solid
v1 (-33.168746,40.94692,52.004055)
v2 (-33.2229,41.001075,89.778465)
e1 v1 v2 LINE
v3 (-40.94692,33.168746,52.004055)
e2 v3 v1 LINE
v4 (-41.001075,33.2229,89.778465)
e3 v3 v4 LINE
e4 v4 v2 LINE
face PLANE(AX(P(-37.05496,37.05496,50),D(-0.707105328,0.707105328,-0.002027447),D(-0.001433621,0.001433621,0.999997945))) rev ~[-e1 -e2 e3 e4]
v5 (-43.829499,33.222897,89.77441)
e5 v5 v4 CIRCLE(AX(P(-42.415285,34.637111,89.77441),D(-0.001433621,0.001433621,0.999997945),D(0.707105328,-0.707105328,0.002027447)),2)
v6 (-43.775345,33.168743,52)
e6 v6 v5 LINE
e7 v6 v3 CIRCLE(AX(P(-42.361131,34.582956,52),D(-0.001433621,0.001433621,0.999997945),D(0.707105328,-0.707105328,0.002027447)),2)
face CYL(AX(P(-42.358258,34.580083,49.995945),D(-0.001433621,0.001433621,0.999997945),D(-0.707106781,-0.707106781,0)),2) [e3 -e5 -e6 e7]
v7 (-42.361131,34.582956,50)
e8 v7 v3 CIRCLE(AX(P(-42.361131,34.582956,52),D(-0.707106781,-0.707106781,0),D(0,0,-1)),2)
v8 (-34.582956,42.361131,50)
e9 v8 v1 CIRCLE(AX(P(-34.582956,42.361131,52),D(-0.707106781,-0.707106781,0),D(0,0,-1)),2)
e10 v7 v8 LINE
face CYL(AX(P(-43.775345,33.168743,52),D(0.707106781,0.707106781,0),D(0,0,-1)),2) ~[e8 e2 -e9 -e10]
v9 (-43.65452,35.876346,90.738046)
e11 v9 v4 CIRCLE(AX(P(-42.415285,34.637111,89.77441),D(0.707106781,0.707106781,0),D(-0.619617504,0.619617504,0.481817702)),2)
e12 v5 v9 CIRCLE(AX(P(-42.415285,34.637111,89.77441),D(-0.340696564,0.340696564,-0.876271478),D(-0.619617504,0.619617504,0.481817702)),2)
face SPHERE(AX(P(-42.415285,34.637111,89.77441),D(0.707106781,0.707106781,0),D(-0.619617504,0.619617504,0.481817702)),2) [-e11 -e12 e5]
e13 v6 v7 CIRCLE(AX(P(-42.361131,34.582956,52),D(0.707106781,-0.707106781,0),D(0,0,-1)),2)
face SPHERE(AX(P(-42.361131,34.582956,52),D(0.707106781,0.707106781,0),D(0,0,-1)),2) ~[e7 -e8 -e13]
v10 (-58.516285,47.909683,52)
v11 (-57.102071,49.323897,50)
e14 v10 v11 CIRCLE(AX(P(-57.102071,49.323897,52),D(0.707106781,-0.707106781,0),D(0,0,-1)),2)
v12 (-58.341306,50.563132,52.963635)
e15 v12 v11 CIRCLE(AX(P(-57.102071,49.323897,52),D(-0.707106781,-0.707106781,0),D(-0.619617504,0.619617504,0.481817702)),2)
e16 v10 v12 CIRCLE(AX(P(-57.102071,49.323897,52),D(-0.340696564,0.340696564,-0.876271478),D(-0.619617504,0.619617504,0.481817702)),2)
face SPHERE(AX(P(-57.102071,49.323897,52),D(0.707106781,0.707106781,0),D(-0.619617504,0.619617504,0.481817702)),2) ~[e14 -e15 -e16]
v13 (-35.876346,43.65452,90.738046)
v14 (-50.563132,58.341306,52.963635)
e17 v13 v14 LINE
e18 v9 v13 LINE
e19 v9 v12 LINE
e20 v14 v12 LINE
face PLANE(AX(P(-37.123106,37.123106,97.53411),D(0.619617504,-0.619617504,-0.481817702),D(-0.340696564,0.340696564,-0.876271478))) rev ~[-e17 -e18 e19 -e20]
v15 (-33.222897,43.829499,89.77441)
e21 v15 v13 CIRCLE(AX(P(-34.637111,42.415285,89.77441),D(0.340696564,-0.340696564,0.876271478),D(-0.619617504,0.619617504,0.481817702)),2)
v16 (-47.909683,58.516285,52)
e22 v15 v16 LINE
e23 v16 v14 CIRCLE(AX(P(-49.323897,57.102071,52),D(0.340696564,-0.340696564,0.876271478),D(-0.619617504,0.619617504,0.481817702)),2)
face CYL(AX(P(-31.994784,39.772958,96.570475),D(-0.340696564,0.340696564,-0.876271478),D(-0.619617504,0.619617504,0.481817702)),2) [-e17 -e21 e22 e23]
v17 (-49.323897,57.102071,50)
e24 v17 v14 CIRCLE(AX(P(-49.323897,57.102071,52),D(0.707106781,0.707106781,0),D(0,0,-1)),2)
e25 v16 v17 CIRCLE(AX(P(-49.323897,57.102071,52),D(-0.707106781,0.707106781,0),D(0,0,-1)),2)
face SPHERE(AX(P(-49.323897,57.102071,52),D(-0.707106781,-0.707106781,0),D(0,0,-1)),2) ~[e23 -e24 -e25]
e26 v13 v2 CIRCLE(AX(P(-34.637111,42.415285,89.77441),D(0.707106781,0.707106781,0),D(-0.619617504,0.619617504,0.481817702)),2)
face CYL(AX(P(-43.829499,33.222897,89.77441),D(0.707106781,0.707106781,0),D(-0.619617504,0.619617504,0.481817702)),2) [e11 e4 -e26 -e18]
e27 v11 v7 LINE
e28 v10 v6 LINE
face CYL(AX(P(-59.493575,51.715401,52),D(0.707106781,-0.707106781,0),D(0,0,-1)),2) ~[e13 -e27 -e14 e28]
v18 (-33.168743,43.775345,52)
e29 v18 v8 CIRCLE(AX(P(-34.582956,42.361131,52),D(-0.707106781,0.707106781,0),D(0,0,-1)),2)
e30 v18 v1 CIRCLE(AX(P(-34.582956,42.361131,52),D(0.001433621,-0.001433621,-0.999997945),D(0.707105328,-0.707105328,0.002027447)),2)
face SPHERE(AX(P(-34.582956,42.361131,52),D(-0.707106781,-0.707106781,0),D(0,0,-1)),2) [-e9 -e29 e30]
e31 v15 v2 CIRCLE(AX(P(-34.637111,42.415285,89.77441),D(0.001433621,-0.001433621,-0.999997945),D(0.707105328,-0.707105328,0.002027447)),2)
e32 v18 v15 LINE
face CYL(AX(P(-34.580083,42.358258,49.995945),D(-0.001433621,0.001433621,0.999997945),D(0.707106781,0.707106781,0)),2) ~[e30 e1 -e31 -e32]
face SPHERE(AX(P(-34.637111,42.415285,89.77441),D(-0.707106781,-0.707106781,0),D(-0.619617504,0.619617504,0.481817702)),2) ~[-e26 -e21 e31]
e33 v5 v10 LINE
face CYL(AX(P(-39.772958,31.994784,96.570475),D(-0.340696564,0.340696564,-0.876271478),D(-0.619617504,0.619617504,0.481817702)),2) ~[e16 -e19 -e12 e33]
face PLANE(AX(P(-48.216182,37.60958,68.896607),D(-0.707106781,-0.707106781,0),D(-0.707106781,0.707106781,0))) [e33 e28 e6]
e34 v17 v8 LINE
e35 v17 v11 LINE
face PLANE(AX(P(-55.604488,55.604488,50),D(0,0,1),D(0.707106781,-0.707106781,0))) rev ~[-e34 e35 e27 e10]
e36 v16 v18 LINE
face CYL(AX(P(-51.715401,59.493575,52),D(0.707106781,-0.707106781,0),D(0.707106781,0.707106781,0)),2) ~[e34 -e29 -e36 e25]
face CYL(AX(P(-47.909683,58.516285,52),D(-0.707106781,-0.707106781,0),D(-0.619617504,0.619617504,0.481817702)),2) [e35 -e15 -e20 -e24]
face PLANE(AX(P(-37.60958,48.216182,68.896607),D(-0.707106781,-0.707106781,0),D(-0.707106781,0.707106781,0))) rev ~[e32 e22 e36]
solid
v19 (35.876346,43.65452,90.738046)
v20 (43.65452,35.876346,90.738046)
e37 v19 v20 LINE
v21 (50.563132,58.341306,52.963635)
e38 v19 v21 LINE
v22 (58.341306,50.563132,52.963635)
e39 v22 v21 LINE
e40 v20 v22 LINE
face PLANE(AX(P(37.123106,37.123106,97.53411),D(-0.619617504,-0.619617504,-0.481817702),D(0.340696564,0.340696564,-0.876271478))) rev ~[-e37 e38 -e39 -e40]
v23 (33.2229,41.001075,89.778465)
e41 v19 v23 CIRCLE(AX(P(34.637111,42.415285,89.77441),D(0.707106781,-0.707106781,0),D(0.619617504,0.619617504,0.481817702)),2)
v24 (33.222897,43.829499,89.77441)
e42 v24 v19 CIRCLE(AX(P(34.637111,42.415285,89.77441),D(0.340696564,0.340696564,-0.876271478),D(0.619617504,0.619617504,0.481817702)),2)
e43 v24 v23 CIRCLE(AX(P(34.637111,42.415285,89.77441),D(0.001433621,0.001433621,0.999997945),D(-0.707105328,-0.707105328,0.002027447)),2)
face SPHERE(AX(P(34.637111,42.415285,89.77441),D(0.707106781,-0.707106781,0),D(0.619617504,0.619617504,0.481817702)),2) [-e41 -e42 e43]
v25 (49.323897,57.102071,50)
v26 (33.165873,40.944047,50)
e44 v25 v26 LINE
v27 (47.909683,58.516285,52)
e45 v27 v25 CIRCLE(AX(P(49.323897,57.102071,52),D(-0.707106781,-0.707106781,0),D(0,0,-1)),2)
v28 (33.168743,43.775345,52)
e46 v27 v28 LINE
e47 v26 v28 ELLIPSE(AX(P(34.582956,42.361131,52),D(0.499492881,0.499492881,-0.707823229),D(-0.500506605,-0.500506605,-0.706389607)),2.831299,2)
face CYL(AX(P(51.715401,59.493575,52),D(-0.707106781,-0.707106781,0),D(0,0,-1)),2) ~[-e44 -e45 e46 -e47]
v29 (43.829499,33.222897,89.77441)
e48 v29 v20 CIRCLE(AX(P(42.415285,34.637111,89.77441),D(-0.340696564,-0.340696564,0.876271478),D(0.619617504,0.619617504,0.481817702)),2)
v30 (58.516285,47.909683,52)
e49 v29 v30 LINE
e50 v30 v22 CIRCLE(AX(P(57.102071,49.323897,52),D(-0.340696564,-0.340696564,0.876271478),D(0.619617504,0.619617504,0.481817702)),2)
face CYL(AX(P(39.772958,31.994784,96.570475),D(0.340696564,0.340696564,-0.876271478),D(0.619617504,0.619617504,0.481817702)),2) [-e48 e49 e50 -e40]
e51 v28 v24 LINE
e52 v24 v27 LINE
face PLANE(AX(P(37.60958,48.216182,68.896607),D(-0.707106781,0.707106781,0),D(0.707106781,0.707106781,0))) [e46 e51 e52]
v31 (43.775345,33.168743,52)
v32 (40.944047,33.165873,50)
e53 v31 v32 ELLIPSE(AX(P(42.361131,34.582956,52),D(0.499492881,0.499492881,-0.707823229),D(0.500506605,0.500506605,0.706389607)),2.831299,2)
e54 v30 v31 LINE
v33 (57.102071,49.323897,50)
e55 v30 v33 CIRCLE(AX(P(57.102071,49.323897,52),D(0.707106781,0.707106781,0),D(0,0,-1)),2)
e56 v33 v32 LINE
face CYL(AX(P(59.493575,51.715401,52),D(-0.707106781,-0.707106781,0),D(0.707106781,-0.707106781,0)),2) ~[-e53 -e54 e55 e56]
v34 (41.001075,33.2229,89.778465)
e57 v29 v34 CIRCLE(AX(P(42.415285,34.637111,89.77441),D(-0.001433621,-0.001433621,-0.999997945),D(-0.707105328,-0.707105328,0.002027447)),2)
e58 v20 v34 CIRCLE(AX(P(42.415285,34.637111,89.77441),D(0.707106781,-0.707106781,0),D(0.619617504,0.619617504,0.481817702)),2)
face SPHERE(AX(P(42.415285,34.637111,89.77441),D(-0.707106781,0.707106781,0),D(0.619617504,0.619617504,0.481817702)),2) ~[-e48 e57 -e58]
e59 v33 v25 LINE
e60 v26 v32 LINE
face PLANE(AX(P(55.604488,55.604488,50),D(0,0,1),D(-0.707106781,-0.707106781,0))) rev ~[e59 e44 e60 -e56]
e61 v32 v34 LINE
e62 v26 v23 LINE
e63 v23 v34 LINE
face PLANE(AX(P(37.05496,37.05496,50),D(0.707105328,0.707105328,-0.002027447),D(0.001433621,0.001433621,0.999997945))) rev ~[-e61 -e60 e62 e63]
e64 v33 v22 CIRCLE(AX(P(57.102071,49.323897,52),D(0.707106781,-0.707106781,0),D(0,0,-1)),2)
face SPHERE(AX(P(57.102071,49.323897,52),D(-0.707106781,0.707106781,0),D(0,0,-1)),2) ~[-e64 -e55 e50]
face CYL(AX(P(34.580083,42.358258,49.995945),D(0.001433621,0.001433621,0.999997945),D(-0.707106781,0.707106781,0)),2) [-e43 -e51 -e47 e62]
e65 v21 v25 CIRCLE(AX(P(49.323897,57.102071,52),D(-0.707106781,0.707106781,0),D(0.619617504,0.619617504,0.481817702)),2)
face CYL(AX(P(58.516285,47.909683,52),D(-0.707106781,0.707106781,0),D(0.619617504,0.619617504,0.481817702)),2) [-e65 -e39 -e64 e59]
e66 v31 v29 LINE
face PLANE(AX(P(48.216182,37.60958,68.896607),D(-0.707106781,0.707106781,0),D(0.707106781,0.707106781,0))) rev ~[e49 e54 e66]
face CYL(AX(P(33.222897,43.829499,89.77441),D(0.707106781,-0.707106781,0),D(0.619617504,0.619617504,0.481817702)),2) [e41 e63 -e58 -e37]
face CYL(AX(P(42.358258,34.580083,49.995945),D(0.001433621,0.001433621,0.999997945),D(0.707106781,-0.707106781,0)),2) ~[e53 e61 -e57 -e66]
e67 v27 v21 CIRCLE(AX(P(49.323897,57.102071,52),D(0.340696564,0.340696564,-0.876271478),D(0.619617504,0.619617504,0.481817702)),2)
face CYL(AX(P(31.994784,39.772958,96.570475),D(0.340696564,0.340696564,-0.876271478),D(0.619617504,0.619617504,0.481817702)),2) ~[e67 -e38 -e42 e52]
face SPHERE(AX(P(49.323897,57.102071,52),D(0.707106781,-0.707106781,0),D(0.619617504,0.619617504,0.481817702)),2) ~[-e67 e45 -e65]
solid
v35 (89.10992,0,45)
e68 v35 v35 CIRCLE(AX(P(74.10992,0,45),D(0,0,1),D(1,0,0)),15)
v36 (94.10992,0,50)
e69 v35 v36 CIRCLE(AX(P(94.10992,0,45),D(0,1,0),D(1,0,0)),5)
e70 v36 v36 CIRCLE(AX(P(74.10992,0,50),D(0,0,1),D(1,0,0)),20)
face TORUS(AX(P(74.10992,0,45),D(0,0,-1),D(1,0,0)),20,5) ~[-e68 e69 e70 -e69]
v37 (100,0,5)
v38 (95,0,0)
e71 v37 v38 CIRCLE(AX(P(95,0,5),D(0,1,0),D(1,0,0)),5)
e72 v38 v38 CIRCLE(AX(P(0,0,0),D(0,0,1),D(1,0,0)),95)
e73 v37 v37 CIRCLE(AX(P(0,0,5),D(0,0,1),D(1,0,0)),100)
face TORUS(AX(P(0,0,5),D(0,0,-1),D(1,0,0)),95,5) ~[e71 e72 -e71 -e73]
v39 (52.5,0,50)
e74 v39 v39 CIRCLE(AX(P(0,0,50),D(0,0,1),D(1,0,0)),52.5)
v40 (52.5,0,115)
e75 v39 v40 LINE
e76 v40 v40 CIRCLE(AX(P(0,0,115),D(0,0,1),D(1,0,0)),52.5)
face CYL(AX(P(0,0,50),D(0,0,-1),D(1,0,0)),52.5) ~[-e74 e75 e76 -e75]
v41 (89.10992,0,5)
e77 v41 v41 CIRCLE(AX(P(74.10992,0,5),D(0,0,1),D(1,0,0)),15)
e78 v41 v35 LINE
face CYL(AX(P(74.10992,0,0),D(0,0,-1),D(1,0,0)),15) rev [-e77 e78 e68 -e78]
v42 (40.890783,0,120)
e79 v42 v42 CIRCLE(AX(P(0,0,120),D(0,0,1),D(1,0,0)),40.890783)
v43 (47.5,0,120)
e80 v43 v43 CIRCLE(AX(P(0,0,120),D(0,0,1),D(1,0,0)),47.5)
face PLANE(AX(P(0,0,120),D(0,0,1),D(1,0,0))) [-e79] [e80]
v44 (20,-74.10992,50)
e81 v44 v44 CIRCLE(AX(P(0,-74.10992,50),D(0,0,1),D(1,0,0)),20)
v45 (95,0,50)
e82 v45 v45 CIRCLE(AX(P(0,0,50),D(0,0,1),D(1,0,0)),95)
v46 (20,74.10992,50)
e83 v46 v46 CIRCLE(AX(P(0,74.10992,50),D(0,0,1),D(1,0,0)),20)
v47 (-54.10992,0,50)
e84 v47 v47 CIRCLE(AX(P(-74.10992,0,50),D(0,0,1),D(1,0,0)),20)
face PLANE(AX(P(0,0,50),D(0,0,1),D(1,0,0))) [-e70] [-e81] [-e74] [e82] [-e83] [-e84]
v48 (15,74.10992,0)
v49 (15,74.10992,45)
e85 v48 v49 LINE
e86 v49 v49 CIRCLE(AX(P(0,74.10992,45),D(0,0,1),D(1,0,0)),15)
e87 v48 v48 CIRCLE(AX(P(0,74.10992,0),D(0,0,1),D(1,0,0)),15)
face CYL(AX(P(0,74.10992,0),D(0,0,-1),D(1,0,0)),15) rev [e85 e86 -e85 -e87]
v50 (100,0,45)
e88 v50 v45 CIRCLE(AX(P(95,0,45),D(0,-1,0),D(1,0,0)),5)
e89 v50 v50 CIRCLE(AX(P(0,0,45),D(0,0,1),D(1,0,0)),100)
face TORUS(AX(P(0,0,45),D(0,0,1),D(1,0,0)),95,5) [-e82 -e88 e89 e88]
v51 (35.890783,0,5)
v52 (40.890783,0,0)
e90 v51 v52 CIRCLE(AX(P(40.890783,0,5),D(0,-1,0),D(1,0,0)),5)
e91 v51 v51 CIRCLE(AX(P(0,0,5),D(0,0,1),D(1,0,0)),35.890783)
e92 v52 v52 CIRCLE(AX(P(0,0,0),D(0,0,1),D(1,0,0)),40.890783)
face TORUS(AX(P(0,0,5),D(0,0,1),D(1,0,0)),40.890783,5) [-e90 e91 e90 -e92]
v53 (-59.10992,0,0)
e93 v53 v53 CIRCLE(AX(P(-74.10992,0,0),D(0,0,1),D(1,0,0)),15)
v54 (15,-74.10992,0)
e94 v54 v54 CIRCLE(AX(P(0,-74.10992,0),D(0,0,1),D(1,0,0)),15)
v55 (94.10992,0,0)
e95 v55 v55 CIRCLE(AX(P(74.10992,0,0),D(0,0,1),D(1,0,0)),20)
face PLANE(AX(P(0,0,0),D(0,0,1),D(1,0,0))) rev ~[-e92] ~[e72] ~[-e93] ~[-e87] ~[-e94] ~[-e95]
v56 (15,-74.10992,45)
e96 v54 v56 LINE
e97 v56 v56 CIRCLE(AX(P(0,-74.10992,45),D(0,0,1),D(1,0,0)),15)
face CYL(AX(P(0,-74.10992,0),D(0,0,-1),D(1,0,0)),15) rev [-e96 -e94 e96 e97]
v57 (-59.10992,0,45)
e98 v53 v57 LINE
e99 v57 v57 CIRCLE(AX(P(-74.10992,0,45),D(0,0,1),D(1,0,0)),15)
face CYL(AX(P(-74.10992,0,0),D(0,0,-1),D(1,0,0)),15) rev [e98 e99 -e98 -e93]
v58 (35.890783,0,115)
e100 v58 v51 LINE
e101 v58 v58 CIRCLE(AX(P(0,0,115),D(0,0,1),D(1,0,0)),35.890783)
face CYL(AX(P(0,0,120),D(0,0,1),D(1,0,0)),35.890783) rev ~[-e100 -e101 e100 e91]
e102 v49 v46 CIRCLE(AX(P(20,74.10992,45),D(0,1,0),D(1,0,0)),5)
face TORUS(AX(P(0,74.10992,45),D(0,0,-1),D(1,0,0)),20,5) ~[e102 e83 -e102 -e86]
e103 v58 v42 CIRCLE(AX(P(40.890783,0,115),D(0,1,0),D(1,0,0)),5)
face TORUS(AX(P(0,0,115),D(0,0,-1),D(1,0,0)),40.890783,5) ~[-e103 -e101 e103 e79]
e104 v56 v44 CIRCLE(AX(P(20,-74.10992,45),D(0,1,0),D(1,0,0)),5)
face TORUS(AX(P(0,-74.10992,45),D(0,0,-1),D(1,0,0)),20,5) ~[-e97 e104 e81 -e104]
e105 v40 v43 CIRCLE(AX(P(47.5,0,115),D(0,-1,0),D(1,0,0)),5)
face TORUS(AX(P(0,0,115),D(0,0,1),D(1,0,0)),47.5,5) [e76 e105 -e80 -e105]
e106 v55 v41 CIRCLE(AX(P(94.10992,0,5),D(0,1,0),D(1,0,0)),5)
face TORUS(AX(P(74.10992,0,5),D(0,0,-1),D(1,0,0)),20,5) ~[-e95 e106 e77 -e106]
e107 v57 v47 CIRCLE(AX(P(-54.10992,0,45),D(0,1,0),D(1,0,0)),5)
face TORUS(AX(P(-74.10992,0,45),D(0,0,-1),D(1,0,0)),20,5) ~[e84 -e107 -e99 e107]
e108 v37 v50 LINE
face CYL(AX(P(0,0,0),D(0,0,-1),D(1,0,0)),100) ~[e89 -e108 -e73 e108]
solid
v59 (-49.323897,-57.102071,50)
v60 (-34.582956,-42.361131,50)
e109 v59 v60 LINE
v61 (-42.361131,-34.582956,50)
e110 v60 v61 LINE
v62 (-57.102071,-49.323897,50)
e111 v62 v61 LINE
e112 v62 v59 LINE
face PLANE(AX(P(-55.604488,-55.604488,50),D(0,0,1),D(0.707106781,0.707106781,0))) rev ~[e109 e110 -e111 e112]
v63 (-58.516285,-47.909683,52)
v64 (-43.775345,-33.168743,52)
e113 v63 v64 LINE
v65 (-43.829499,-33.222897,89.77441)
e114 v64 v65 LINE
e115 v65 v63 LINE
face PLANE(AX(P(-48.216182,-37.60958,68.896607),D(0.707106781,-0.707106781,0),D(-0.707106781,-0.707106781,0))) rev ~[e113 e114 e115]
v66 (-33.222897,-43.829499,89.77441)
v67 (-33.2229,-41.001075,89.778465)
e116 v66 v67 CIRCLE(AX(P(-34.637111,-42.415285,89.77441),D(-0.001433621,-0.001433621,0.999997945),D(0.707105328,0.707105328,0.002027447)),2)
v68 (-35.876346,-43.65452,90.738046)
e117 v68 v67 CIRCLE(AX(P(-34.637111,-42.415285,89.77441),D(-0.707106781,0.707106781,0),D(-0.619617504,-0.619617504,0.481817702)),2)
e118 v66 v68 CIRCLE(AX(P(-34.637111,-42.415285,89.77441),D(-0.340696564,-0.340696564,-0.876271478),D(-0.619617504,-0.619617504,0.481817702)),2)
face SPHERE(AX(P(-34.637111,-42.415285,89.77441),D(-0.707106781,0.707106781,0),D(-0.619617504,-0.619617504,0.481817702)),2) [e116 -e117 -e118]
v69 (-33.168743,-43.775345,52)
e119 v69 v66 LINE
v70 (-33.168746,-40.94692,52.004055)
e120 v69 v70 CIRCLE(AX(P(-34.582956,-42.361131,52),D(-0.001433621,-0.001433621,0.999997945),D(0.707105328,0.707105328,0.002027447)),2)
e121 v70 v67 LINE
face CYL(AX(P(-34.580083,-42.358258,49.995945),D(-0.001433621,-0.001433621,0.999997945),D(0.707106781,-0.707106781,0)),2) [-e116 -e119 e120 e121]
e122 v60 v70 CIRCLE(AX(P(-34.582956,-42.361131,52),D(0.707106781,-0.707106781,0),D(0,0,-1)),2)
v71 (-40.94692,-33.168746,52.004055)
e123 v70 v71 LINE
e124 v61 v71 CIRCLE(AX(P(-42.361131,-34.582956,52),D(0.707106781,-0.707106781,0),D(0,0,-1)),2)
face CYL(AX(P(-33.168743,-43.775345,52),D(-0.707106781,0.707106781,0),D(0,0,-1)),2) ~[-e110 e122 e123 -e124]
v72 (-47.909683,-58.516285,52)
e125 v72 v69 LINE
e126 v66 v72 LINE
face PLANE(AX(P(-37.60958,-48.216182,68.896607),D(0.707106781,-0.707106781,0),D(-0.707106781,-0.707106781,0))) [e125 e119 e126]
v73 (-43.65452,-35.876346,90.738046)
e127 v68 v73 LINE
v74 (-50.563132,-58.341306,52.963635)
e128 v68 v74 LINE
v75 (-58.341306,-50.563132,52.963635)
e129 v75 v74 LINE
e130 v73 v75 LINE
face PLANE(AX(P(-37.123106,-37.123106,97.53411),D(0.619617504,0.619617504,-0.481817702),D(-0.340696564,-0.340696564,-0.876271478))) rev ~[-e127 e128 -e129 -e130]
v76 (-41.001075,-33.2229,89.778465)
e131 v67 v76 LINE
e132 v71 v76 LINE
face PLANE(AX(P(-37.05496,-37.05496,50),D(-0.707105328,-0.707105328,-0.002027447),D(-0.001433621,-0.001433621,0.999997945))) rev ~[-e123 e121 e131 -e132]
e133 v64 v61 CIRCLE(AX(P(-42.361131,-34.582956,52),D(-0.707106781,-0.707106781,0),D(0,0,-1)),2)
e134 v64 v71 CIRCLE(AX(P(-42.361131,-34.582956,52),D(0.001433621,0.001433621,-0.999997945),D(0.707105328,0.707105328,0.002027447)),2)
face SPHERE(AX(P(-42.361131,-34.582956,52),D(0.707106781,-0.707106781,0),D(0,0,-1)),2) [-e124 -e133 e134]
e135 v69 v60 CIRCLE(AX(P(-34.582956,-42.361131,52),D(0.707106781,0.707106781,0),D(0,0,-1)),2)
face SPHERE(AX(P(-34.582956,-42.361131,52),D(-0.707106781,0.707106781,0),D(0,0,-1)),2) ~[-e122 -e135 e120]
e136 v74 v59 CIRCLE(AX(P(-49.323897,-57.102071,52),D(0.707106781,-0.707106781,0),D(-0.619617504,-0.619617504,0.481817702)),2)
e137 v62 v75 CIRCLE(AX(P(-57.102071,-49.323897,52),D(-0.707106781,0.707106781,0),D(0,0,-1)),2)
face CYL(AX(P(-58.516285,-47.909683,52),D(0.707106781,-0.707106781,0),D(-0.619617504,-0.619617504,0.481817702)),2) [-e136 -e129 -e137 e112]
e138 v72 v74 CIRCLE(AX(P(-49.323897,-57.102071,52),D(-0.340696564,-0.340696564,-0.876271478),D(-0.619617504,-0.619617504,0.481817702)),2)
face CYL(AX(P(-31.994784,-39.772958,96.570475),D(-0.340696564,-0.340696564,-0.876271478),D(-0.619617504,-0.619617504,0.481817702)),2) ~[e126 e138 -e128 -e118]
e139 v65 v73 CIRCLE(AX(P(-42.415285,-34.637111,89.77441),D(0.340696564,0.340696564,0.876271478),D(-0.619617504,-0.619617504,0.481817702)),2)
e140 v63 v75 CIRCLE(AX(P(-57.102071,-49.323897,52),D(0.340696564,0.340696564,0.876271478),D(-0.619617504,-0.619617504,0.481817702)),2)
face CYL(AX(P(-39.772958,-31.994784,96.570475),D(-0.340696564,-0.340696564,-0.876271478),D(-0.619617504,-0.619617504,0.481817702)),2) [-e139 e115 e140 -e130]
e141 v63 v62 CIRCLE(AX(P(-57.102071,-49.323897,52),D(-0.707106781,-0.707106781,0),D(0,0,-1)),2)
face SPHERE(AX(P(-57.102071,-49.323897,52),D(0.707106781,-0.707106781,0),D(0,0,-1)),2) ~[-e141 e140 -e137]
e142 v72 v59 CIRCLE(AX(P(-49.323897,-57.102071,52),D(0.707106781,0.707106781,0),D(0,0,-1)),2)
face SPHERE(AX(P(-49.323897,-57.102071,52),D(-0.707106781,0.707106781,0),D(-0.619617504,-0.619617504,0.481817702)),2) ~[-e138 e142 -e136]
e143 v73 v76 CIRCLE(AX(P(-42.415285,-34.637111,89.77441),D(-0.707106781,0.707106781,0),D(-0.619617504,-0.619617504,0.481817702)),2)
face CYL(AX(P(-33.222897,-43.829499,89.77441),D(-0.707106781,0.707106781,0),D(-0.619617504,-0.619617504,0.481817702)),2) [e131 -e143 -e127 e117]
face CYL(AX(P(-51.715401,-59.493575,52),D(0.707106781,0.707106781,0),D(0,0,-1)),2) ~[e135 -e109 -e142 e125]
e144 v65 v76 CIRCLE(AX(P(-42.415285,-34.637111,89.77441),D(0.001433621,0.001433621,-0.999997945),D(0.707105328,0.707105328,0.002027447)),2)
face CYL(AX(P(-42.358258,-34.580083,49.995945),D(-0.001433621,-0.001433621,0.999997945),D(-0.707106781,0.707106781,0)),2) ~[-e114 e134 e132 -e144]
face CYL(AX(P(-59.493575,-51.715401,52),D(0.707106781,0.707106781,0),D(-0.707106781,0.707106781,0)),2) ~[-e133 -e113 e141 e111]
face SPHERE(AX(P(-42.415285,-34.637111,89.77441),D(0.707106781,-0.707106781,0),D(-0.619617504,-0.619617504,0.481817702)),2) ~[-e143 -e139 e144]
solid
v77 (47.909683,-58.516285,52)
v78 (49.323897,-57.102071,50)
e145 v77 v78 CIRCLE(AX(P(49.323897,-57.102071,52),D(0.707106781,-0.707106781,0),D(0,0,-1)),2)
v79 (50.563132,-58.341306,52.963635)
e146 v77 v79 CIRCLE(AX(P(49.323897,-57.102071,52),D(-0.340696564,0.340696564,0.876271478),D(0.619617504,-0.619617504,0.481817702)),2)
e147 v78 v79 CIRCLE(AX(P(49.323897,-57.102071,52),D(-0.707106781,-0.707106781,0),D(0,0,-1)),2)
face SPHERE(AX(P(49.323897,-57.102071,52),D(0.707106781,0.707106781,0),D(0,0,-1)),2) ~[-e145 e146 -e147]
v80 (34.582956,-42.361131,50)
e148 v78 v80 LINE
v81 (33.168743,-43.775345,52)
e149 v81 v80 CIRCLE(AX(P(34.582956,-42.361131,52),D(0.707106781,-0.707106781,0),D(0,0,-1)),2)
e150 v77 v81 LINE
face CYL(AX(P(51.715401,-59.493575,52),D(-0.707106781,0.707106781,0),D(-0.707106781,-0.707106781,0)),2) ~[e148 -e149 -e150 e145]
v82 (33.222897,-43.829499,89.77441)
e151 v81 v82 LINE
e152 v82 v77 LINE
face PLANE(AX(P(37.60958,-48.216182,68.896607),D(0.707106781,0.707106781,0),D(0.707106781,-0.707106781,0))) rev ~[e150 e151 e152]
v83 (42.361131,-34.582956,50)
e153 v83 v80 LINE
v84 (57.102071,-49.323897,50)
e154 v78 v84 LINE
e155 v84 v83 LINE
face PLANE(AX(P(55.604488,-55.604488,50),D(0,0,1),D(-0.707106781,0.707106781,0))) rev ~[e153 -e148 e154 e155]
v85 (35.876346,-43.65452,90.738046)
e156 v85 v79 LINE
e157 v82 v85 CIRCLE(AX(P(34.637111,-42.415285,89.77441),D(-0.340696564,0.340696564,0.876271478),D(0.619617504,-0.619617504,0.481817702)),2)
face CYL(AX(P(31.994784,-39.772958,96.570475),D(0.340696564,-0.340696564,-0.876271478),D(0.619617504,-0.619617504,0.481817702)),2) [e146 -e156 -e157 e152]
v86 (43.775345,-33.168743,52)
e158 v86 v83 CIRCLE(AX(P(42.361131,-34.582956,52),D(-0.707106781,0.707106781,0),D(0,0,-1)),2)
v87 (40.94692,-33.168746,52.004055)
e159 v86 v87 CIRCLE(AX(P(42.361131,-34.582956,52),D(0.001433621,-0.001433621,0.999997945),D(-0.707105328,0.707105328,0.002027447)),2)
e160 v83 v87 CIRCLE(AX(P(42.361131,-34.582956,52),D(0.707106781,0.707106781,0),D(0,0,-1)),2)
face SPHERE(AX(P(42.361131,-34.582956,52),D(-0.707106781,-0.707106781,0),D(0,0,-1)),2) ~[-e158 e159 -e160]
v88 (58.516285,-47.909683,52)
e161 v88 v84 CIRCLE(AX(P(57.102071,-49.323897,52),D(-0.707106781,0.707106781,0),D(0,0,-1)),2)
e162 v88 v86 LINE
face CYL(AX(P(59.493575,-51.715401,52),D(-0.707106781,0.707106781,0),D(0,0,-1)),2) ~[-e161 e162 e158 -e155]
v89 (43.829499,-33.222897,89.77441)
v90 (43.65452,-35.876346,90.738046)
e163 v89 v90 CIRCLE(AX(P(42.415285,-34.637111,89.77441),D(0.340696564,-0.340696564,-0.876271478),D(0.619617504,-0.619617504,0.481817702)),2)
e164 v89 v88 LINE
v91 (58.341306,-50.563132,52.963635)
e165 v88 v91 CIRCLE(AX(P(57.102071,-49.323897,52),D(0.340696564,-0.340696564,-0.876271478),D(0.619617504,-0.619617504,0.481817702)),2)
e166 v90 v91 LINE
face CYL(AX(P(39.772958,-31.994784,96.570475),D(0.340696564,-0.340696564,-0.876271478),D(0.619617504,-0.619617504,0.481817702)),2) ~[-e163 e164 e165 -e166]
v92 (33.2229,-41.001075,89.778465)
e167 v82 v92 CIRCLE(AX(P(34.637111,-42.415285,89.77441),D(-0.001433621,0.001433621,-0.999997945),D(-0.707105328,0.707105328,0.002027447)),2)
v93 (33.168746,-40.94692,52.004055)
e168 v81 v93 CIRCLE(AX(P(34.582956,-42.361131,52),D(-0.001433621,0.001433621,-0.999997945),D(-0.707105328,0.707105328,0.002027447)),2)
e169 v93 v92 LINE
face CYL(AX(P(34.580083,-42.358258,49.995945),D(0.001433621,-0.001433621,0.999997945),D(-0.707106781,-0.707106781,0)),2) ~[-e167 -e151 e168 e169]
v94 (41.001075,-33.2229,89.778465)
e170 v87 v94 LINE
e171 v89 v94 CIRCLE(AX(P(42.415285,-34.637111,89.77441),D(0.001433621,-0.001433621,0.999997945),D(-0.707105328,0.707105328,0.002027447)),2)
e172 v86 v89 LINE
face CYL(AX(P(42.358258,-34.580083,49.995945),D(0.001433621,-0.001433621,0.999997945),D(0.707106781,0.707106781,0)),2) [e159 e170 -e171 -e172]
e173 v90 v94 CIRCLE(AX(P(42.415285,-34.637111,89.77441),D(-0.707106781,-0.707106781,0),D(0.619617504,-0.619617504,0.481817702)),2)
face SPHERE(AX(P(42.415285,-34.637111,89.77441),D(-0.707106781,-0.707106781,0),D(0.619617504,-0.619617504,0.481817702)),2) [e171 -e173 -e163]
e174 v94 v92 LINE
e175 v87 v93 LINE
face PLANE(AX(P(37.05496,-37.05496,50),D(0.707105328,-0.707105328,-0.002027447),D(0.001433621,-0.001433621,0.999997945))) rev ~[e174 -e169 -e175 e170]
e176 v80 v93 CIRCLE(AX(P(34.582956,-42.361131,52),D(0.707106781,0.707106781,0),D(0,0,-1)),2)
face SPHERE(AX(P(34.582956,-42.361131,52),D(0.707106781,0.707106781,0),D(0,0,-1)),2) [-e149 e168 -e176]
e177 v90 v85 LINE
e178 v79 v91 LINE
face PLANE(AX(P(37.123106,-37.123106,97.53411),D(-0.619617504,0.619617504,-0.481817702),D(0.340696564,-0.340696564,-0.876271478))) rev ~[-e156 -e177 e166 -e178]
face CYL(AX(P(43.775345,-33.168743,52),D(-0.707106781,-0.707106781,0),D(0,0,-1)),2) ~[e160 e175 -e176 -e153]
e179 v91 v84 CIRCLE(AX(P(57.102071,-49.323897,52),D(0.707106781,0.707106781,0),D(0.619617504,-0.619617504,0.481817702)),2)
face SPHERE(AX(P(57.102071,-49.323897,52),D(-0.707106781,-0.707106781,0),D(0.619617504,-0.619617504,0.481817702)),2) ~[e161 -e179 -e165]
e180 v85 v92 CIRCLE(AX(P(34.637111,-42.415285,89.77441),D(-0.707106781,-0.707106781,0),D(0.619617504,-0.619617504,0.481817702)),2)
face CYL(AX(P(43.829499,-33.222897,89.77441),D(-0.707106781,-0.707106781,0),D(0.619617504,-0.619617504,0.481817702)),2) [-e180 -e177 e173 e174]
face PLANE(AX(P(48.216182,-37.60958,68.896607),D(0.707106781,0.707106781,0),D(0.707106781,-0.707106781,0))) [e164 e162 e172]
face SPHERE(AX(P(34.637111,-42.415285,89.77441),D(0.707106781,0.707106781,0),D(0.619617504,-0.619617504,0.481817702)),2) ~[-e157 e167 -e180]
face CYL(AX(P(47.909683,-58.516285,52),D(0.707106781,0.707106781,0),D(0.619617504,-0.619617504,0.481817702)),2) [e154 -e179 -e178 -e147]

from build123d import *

# Parameters (mm, degrees)
SKETCH1_R               = 100
SKETCH1_R_2             = 15
BOSS_EXTRUDE1_DEPTH     = 50
SKETCH2_R               = 52.5
BOSS_EXTRUDE2_DEPTH     = 70
SKETCH3_R               = 35.890783466
CUT_EXTRUDE1_DEPTH      = 1
CUT_EXTRUDE1_DEPTH_BACK = 121
BOSS_EXTRUDE3_DEPTH     = 7.5
CIRPATTERN1_COUNT       = 4
FILLET1_R               = 5
FILLET2_R               = 5
FILLET3_R               = 5
FILLET4_R               = 2
FILLET5_R               = 2
FILLET6_R               = 2
FILLET7_R               = 2


with BuildPart() as part:
    # Sketch1 → Boss-Extrude1 (new body)
    with BuildSketch(Plane.XY):
        Circle(SKETCH1_R)
        with Locations((-74.109919926, 0)):
            Circle(SKETCH1_R_2, mode=Mode.SUBTRACT)
        with Locations((0, 74.109919926)):
            Circle(SKETCH1_R_2, mode=Mode.SUBTRACT)
        with Locations((74.109919926, 0)):
            Circle(SKETCH1_R_2, mode=Mode.SUBTRACT)
        with Locations((0, -74.109919926)):
            Circle(SKETCH1_R_2, mode=Mode.SUBTRACT)
    extrude(amount=BOSS_EXTRUDE1_DEPTH)

    # Sketch2 → Boss-Extrude2 (add)
    with BuildSketch(Plane.XY.offset(50)):
        Circle(SKETCH2_R)
    extrude(amount=BOSS_EXTRUDE2_DEPTH)

    # Sketch3 → Cut-Extrude1 (cut, two sides)
    with BuildSketch(Plane.XY.offset(120)) as cut_extrude1_sk:
        Circle(SKETCH3_R)
    extrude(amount=CUT_EXTRUDE1_DEPTH, mode=Mode.SUBTRACT)
    extrude(cut_extrude1_sk.sketch, amount=-CUT_EXTRUDE1_DEPTH_BACK, mode=Mode.SUBTRACT)

    # Fillet1
    fillet1_edges = [part.edges().sort_by_distance(p)[0] for p in [
        (-100, 0, 0),
        (-100, 0, 50),
    ]]
    fillet(fillet1_edges, radius=FILLET1_R)

    # Fillet2
    fillet2_edges = [part.edges().sort_by_distance(p)[0] for p in [
        (-52.5, 0, 120),
        (-35.890783466, 0, 120),
    ]]
    fillet(fillet2_edges, radius=FILLET2_R)

    # Fillet3
    fillet3_edges = [part.edges().sort_by_distance(p)[0] for p in [
        (59.109919926, 0, 0),
        (59.109919926, 0, 50),
        (-15, -74.109919926, 50),
        (-35.890783466, 0, 0),
        (-89.109919926, 0, 50),
        (-15, 74.109919926, 50),
    ]]
    fillet(fillet3_edges, radius=FILLET3_R)


with BuildPart() as body_2:
    # Sketch5 → Boss-Extrude3 (new body, symmetric)
    with BuildSketch(Plane(origin=(0, 0, 0), x_dir=(0.707106781, 0.707106781, 0), z_dir=(-0.707106781, 0.707106781, 0))):
        Polygon((-52.5, -97.534110101), (-78.636621205, -50), (-52.403626933, -50), align=None)
    extrude(amount=BOSS_EXTRUDE3_DEPTH, both=True)


with BuildPart() as cirpattern1_1:
    # CirPattern1: pattern copy
    add(body_2.part.rotate(Axis((0, 0, 0), (0, 0, 1)), 1 * 360 / CIRPATTERN1_COUNT))

    # Fillet5
    fillet5_edges = [cirpattern1_1.edges().sort_by_distance(p)[0] for p in [
        (41.060496199, -51.667097917, 73.76705505),
        (51.667097917, -41.060496199, 73.76705505),
        (51.633024892, -41.026423174, 50),
        (42.392333847, -31.785732129, 73.76705505),
        (31.785732129, -42.392333847, 73.76705505),
        (37.123106012, -37.123106012, 97.534110101),
        (55.604488103, -55.604488103, 50),
        (37.054959963, -37.054959963, 50),
        (41.026423174, -51.633024892, 50),
    ]]
    fillet(fillet5_edges, radius=FILLET5_R)


with BuildPart() as cirpattern1_2:
    # CirPattern1: pattern copy
    add(body_2.part.rotate(Axis((0, 0, 0), (0, 0, 1)), 2 * 360 / CIRPATTERN1_COUNT))

    # Fillet4
    fillet4_edges = [cirpattern1_2.edges().sort_by_distance(p)[0] for p in [
        (51.667097917, 41.060496199, 73.76705505),
        (41.060496199, 51.667097917, 73.76705505),
        (41.026423174, 51.633024892, 50),
        (31.785732129, 42.392333847, 73.76705505),
        (42.392333847, 31.785732129, 73.76705505),
        (37.123106012, 37.123106012, 97.534110101),
        (55.604488103, 55.604488103, 50),
        (51.633024892, 41.026423174, 50),
    ]]
    fillet(fillet4_edges, radius=FILLET4_R)


with BuildPart() as cirpattern1_3:
    # CirPattern1: pattern copy
    add(body_2.part.rotate(Axis((0, 0, 0), (0, 0, 1)), 3 * 360 / CIRPATTERN1_COUNT))

    # Fillet7
    fillet7_edges = [cirpattern1_3.edges().sort_by_distance(p)[0] for p in [
        (-41.060496199, 51.667097917, 73.76705505),
        (-51.667097917, 41.060496199, 73.76705505),
        (-51.633024892, 41.026423174, 50),
        (-42.392333847, 31.785732129, 73.76705505),
        (-31.785732129, 42.392333847, 73.76705505),
        (-37.123106012, 37.123106012, 97.534110101),
        (-55.604488103, 55.604488103, 50),
        (-37.054959963, 37.054959963, 50),
        (-41.026423174, 51.633024892, 50),
    ]]
    fillet(fillet7_edges, radius=FILLET7_R)


with BuildPart() as body_2_1:
    add(body_2.part)

    # Fillet6
    fillet6_edges = [body_2_1.edges().sort_by_distance(p)[0] for p in [
        (-51.667097917, -41.060496199, 73.76705505),
        (-41.060496199, -51.667097917, 73.76705505),
        (-41.026423174, -51.633024892, 50),
        (-31.785732129, -42.392333847, 73.76705505),
        (-42.392333847, -31.785732129, 73.76705505),
        (-37.123106012, -37.123106012, 97.534110101),
        (-55.604488103, -55.604488103, 50),
        (-37.054959963, -37.054959963, 50),
        (-51.633024892, -41.026423174, 50),
    ]]
    fillet(fillet6_edges, radius=FILLET6_R)


solid = Compound([part.part, cirpattern1_1.part, cirpattern1_2.part, cirpattern1_3.part, body_2_1.part])
